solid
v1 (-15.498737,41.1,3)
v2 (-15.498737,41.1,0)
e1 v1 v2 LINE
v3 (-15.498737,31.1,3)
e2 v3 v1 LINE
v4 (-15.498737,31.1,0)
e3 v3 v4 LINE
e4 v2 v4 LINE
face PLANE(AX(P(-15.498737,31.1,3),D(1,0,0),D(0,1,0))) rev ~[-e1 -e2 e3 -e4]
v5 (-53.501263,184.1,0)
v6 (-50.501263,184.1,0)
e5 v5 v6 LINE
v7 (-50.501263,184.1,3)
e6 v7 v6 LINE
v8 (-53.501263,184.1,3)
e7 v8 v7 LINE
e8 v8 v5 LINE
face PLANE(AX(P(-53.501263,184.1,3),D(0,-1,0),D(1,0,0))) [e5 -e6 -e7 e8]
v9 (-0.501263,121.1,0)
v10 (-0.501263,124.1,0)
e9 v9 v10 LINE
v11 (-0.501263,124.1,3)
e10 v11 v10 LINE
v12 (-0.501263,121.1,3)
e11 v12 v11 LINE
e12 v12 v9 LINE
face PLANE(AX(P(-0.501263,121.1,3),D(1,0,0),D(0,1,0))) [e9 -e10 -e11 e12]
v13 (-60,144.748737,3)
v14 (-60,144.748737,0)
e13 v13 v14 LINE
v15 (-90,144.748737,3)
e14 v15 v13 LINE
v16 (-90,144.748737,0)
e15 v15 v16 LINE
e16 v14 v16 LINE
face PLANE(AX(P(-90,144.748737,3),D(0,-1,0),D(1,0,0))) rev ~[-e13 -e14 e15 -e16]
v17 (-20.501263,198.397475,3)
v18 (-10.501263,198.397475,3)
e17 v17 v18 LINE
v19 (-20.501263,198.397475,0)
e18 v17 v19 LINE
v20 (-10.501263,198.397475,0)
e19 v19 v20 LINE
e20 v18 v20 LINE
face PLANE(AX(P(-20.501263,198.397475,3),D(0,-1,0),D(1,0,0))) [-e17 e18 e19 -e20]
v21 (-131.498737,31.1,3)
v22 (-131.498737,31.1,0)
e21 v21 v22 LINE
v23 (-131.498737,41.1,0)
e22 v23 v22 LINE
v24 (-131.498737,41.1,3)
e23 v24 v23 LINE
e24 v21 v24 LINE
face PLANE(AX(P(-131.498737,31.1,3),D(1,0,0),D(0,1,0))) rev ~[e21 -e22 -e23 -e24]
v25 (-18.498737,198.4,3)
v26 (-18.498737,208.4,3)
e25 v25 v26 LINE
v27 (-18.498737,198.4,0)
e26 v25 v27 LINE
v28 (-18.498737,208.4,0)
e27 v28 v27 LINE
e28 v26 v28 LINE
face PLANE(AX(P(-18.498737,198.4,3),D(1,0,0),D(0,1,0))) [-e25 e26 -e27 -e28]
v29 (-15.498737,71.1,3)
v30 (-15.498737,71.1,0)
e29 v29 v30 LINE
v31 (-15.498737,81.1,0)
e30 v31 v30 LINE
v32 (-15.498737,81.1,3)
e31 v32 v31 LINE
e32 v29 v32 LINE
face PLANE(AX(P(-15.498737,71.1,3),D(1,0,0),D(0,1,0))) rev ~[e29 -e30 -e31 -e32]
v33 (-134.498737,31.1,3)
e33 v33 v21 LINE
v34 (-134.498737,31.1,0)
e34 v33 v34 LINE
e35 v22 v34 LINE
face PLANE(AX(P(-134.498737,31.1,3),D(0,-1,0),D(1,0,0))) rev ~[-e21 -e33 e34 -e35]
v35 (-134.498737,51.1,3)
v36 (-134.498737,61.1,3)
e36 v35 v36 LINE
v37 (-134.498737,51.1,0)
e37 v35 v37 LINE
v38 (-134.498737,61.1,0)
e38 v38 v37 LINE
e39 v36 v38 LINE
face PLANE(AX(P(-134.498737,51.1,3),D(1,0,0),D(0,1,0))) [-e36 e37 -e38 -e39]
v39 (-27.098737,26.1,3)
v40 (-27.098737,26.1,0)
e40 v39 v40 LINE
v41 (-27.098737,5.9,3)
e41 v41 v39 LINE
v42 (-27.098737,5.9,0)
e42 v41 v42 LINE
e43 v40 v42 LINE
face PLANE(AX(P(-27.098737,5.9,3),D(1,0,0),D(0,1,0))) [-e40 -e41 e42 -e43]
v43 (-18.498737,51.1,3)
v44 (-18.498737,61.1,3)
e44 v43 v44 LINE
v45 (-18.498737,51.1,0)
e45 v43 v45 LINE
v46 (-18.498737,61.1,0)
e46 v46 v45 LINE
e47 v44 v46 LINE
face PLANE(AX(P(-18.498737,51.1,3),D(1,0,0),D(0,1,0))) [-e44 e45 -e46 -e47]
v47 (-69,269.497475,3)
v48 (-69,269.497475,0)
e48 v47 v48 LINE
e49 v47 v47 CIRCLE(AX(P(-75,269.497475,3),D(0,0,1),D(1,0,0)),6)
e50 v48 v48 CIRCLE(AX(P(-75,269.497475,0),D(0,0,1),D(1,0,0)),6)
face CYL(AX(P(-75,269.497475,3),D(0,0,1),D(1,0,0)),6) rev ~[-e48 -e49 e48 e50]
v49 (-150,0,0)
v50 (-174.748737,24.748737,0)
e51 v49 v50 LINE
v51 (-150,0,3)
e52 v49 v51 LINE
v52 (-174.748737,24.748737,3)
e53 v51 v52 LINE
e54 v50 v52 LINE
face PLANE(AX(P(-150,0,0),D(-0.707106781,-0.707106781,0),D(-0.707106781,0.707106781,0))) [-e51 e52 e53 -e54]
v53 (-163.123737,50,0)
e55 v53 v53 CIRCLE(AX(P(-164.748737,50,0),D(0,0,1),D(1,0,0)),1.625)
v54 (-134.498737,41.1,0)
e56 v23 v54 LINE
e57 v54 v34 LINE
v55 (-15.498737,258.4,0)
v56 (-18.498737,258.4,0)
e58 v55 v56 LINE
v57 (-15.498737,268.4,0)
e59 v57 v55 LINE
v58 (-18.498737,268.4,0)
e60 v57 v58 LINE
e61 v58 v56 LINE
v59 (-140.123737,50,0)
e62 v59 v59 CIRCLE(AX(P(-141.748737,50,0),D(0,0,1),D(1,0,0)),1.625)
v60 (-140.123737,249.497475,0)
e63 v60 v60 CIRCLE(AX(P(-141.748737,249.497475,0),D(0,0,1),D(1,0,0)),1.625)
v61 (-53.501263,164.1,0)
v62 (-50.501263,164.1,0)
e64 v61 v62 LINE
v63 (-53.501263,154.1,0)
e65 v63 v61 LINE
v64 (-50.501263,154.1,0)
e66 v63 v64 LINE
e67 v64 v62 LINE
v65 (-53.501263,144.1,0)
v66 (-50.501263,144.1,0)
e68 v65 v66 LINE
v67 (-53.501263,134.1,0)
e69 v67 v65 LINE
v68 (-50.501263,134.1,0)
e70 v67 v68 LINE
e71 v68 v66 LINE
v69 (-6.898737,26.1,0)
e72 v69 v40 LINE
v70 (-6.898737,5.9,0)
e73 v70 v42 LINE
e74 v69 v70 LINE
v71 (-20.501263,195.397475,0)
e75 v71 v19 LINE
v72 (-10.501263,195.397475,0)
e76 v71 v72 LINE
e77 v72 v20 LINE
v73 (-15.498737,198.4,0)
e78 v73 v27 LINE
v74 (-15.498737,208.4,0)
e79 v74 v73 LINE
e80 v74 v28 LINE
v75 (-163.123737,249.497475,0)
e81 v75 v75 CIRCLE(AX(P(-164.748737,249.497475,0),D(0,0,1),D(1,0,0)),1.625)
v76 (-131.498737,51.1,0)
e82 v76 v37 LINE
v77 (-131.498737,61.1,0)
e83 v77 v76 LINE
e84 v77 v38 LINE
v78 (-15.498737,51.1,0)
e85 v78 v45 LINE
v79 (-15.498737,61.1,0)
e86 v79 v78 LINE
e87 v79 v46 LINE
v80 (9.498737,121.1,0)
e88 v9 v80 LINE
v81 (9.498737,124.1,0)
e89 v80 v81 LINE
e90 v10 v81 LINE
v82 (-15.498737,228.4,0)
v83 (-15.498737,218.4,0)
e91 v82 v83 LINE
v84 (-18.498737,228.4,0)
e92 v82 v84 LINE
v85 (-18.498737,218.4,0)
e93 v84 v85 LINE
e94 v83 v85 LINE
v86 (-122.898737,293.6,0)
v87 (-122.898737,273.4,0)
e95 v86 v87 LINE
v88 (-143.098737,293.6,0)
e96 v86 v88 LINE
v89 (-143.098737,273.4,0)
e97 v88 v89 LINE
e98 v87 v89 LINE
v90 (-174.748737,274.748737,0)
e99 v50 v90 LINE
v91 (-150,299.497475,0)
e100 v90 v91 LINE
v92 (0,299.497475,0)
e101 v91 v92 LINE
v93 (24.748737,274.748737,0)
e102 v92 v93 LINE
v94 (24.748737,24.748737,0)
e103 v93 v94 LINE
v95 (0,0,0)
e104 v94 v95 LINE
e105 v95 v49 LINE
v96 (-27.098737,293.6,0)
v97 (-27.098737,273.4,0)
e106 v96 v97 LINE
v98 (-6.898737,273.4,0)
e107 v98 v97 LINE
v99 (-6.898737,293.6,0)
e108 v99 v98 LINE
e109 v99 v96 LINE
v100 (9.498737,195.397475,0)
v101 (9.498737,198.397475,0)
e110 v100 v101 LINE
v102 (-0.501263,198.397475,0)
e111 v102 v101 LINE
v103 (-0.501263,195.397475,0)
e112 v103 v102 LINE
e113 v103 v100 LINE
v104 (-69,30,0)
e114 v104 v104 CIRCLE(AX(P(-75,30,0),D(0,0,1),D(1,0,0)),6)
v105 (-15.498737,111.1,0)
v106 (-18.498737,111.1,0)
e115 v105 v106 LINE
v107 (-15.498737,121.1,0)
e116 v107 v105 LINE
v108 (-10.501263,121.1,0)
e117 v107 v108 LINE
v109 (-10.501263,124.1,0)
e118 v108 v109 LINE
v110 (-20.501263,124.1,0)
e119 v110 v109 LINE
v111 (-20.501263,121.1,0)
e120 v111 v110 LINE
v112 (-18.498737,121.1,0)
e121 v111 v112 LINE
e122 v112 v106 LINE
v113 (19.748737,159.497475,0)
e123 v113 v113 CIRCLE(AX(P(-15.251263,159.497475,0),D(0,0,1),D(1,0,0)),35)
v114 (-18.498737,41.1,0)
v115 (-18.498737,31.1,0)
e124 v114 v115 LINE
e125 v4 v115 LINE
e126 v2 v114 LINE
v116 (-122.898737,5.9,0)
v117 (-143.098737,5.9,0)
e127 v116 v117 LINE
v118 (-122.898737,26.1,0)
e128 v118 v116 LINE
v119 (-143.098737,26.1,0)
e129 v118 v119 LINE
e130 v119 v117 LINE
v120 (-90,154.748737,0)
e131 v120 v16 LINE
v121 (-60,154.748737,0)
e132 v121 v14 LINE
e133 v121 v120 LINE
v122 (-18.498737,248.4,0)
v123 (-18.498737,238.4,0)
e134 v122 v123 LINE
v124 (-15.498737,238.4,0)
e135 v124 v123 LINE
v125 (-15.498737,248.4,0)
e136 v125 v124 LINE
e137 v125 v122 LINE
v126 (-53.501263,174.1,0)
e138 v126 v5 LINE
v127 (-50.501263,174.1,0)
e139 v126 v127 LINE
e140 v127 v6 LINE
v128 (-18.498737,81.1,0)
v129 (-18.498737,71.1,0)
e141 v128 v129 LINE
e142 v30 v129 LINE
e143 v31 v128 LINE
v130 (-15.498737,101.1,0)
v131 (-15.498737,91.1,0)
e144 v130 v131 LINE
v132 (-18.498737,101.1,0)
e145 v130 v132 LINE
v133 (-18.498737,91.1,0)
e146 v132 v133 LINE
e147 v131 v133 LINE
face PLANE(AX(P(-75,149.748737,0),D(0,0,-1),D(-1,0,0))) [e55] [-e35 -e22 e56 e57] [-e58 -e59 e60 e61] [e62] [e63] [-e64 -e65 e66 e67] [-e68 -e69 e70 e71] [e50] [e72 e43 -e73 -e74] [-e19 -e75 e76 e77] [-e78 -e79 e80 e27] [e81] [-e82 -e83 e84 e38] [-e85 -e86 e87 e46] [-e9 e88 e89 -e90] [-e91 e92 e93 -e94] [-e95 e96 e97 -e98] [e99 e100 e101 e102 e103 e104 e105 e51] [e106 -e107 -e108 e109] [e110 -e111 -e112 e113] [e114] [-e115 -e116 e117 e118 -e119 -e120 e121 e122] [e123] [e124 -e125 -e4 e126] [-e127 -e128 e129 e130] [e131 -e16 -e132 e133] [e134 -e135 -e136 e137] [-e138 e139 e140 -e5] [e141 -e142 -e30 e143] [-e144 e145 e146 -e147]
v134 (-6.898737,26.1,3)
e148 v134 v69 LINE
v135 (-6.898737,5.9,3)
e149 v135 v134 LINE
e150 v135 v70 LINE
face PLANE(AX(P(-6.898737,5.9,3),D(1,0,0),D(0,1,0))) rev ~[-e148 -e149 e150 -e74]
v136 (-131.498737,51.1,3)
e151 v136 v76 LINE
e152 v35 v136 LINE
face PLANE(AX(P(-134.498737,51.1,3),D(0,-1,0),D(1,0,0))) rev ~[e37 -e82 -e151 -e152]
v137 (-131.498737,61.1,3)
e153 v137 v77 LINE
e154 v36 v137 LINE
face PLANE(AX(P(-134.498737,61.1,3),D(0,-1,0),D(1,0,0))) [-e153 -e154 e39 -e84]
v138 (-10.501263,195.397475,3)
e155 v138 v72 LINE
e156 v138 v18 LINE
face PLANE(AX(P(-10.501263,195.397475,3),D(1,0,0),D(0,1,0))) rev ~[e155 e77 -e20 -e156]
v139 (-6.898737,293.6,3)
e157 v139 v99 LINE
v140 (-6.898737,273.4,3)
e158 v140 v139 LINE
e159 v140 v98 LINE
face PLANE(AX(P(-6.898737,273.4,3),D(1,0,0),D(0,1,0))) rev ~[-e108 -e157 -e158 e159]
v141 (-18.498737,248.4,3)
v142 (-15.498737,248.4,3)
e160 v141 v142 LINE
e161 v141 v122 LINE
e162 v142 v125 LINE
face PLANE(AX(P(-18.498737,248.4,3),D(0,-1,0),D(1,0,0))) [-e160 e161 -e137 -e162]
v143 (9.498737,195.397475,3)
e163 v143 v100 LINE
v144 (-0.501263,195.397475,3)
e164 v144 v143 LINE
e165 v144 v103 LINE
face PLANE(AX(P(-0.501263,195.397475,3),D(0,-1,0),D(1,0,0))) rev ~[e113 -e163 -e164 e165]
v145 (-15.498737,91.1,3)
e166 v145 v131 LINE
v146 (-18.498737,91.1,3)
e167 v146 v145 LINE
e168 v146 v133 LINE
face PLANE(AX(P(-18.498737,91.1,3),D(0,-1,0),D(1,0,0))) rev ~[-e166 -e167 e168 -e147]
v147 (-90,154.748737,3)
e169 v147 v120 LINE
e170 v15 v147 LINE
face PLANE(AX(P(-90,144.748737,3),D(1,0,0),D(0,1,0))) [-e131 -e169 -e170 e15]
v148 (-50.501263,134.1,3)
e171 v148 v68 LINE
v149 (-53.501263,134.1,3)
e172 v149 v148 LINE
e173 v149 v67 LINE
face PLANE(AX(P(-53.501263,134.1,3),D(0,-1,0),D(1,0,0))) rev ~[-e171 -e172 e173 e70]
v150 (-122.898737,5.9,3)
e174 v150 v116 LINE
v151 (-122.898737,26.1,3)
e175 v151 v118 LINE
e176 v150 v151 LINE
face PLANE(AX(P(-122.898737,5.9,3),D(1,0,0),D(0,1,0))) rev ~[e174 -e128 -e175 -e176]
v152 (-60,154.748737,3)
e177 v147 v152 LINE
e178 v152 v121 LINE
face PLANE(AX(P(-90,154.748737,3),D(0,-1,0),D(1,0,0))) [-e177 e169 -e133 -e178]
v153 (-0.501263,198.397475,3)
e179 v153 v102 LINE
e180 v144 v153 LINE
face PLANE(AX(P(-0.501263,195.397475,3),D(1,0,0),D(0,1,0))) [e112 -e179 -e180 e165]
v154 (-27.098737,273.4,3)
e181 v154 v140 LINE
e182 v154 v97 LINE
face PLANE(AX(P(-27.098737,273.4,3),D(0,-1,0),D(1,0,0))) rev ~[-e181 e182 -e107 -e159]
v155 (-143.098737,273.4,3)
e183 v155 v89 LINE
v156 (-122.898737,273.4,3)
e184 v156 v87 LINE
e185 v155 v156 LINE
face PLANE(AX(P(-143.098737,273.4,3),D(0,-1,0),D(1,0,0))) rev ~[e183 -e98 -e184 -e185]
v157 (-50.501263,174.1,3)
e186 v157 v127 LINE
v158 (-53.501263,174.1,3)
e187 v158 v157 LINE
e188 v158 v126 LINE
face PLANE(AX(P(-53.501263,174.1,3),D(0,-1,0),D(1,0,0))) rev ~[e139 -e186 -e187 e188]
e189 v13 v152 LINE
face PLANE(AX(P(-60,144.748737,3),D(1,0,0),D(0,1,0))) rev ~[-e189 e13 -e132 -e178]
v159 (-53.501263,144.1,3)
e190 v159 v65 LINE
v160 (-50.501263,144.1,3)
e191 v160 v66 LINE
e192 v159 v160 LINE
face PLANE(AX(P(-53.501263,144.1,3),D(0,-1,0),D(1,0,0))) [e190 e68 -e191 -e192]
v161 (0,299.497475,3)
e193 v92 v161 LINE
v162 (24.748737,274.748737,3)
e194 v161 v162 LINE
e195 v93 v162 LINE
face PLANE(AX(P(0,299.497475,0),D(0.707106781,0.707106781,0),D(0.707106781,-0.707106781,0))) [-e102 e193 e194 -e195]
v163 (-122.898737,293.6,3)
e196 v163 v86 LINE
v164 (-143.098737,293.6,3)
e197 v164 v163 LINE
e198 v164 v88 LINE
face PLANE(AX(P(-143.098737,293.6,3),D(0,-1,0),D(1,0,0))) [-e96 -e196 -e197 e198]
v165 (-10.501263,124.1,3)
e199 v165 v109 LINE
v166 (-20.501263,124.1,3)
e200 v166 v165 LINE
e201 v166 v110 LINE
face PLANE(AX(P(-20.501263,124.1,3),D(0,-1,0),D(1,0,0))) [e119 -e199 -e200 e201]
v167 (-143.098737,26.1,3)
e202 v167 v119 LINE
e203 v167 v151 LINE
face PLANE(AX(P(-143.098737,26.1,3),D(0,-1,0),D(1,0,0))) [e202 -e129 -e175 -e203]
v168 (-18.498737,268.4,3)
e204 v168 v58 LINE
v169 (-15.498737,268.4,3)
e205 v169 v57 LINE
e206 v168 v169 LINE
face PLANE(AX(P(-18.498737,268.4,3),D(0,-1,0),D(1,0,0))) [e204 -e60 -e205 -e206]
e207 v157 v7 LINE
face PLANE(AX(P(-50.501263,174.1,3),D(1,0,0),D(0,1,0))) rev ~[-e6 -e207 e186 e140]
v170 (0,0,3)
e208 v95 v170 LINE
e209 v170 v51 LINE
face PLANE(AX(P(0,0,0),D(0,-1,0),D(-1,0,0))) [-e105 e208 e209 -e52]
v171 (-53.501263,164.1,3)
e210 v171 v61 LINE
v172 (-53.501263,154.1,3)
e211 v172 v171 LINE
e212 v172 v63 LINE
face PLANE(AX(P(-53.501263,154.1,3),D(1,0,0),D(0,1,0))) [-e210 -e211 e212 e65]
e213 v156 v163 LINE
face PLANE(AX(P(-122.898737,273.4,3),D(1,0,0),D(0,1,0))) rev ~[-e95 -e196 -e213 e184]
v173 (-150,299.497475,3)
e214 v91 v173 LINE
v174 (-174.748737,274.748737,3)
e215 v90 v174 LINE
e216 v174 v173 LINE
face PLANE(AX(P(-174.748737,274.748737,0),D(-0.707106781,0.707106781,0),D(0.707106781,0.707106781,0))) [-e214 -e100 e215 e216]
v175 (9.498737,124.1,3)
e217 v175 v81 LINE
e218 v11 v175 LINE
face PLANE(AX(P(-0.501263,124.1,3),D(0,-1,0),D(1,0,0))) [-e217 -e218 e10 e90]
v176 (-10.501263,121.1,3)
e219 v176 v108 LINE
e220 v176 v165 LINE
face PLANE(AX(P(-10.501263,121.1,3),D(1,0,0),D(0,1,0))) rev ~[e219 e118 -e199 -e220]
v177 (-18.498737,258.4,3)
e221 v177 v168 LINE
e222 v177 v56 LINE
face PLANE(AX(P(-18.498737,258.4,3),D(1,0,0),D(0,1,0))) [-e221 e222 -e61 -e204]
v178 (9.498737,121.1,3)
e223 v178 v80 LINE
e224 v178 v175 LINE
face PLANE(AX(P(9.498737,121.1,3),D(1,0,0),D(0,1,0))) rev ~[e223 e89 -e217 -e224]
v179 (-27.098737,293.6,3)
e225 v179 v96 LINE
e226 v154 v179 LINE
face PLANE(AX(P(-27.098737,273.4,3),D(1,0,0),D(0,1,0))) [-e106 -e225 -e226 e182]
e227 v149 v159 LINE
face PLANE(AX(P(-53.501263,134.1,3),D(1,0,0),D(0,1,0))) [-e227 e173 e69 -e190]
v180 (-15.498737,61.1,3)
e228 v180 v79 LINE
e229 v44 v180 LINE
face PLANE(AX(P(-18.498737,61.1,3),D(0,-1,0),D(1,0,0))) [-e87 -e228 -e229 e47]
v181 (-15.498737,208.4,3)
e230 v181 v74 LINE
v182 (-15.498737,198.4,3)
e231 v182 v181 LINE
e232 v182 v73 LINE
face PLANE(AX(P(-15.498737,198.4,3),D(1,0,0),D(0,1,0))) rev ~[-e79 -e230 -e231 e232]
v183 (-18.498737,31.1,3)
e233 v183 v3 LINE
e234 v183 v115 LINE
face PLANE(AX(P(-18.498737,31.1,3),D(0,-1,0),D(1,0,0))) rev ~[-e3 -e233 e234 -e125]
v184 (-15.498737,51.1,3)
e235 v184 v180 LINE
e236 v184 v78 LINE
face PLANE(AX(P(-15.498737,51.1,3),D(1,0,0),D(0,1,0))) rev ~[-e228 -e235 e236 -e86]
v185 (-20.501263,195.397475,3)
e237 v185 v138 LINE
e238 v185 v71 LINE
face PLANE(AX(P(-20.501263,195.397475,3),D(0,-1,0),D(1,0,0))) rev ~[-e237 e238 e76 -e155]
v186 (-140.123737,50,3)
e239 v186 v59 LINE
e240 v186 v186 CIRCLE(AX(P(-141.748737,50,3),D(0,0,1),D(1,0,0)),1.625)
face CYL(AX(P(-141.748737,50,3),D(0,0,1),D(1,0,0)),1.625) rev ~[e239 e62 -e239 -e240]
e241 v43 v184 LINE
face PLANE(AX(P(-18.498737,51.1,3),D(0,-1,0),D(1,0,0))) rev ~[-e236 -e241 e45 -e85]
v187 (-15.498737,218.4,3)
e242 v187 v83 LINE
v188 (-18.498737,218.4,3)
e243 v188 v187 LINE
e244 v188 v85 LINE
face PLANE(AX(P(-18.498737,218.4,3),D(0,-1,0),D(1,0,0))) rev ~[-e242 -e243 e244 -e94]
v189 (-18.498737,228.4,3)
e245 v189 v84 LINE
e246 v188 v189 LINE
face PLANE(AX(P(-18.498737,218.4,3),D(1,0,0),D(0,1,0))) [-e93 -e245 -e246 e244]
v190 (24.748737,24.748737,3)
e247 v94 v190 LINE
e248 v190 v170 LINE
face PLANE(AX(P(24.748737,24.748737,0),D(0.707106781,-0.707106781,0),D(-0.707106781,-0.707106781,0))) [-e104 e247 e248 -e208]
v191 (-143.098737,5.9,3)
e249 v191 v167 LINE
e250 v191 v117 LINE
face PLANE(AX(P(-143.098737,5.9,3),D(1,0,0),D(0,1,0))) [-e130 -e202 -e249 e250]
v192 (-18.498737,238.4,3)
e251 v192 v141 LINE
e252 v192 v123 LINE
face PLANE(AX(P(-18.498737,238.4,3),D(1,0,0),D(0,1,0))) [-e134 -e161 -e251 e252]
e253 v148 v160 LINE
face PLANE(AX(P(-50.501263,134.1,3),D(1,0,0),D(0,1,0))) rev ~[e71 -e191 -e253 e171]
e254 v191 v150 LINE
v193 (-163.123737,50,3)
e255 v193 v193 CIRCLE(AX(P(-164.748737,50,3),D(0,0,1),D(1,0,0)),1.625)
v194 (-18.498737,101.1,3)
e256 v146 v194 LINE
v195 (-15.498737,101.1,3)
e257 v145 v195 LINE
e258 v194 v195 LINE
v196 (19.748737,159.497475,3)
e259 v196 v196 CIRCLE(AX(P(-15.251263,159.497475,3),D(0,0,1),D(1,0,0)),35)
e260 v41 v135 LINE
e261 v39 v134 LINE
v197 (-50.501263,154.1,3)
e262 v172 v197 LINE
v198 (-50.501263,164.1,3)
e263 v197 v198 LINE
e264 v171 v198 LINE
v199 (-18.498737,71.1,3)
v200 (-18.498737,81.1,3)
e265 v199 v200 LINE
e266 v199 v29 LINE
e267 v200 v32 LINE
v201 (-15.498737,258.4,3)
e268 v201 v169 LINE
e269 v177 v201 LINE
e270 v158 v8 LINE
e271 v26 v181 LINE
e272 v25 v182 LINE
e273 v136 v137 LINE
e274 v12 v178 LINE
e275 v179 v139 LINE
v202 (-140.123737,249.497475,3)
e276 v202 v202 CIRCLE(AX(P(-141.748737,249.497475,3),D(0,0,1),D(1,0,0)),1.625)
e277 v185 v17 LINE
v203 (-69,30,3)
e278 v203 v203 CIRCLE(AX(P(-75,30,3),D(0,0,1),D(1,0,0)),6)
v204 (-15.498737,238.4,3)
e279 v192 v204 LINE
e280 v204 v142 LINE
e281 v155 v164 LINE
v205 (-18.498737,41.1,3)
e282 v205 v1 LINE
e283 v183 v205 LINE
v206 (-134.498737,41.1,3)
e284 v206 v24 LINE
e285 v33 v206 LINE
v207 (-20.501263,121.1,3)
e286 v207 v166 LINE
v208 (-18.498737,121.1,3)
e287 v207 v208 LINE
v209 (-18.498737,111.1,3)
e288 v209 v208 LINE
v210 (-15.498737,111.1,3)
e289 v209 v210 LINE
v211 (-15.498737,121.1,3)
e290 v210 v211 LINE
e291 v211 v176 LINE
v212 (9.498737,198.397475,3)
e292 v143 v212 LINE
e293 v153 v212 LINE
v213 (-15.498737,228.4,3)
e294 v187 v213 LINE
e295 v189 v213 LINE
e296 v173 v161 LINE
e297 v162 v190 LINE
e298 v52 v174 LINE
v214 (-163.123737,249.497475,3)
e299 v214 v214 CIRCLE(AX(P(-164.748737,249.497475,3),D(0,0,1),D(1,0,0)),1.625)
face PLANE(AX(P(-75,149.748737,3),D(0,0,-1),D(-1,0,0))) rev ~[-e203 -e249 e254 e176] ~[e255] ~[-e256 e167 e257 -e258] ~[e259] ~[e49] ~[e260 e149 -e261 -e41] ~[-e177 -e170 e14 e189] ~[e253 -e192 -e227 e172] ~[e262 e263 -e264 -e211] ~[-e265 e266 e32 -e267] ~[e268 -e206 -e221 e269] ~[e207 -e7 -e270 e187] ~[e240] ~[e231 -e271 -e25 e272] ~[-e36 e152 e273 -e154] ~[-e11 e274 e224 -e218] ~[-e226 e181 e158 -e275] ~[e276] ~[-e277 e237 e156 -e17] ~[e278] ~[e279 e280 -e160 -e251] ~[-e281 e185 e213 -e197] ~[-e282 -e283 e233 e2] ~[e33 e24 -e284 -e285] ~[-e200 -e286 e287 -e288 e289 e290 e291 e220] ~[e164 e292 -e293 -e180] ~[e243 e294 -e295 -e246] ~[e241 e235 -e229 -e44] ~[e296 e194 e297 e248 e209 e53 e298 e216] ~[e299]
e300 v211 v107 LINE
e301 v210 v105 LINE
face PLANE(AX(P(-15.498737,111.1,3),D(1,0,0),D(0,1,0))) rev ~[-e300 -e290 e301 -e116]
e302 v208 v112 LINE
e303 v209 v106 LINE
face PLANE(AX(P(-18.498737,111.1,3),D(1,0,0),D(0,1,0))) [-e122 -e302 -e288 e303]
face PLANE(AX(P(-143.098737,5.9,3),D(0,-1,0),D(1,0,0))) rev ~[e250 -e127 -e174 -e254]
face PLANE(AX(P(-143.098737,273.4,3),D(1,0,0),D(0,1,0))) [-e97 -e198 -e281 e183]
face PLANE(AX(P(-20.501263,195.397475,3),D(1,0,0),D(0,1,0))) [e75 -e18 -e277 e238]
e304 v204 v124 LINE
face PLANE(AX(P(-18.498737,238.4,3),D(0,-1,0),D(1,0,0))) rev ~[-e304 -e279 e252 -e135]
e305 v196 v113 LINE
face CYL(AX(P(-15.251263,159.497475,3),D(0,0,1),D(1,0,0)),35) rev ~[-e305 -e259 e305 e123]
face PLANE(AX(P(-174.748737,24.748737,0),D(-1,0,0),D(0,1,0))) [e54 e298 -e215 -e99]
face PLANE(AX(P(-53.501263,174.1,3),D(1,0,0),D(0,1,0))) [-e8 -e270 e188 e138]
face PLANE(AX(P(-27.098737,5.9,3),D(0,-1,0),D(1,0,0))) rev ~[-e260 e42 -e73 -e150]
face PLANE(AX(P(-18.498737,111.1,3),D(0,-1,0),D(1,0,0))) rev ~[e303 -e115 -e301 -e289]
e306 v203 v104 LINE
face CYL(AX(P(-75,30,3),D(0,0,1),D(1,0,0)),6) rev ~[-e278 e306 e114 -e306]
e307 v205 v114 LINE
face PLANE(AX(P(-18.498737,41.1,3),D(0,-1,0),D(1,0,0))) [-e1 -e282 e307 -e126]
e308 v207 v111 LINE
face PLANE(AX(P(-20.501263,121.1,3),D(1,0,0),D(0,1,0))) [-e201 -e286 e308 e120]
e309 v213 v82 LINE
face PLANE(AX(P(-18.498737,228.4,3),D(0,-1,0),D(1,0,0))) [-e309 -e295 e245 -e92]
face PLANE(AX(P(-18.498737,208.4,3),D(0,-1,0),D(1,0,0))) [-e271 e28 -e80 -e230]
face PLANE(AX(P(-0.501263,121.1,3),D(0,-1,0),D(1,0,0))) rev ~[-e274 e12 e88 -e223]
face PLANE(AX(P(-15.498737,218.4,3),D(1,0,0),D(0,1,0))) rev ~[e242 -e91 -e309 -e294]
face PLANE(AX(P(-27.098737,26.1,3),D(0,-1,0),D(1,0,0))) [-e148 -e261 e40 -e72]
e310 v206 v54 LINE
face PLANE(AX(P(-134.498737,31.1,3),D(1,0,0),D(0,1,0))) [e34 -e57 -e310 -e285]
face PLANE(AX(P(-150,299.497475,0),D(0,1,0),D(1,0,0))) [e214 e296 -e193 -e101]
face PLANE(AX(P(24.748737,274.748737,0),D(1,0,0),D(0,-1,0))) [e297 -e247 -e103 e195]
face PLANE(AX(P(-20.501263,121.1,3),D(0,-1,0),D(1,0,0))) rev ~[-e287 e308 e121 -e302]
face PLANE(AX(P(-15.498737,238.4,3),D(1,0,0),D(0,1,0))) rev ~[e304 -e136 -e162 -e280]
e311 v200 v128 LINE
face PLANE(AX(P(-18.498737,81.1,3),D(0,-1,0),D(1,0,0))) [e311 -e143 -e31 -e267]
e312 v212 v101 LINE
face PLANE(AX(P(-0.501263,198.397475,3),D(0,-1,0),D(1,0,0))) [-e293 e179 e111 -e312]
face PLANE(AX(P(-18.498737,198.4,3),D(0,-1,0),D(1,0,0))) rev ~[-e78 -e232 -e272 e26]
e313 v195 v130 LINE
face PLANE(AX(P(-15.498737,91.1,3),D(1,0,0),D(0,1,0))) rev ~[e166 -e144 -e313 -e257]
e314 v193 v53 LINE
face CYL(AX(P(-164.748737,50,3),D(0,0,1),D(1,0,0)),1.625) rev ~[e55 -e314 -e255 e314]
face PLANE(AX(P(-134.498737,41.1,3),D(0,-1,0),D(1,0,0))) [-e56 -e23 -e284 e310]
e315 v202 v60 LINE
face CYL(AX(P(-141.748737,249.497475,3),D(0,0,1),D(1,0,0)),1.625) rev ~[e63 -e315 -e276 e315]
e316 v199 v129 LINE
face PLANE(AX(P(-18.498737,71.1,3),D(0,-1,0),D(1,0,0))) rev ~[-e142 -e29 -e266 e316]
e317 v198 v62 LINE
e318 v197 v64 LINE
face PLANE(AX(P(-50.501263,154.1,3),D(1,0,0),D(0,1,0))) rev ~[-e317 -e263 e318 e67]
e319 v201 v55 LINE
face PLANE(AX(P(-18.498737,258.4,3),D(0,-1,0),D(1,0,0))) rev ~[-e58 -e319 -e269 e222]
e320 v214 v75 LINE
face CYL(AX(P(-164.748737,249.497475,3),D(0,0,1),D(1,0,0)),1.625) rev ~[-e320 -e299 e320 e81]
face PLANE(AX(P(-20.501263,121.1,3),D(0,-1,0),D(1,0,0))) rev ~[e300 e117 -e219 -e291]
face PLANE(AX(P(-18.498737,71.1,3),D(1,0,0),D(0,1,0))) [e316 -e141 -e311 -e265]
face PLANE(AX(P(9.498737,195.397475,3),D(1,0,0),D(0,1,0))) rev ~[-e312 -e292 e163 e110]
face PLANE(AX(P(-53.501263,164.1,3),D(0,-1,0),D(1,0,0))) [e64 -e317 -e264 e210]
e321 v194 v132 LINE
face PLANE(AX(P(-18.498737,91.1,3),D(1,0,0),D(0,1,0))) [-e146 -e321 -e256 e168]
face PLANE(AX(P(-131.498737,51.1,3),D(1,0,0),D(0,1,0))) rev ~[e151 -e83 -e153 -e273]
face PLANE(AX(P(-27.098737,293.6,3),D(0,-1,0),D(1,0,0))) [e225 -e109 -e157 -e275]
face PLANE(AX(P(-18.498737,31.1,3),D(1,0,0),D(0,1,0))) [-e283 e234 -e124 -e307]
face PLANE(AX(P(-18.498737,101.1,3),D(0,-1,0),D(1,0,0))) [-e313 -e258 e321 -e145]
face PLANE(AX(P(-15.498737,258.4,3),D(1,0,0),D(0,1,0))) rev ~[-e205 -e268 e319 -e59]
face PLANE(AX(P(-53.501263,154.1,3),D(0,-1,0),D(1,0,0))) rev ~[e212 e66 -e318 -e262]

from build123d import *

# Parameters (mm, degrees)
BASE_DEPTH                      = 3
ESQUISSE3_W                     = 20.2
ESQUISSE3_H                     = 20.2
ENL_V_MAT_EXTRU_1_DEPTH         = 4
R_P_TITION_LIN_AIRE1_COUNT      = 2
R_P_TITION_LIN_AIRE1_PITCH      = 267.5
R_P_TITION_LIN_AIRE1_COUNT_DIR2 = 2
R_P_TITION_LIN_AIRE1_PITCH_DIR2 = 116
ESQUISSE4_R                     = 35
ENL_V_MAT_EXTRU_2_DEPTH         = 4
ESQUISSE5_R                     = 6
ESQUISSE5_W                     = 30
ESQUISSE5_H                     = 10
ENL_V_MAT_EXTRU_3_DEPTH         = 4
ESQUISSE6_R                     = 1.625
ENL_V_MAT_EXTRU_4_DEPTH         = 4
SKETCH1_W                       = 3
SKETCH1_H                       = 10
CUT_EXTRUDE1_DEPTH              = 4
LPATTERN1_COUNT                 = 4
LPATTERN1_PITCH                 = 20
SKETCH2_W                       = 3
SKETCH2_H                       = 10
CUT_EXTRUDE2_DEPTH              = 4
LPATTERN2_COUNT                 = 5
LPATTERN2_PITCH                 = 20
SKETCH4_W                       = 3
SKETCH4_H                       = 10
CUT_EXTRUDE3_DEPTH              = 4
LPATTERN3_COUNT                 = 2
LPATTERN3_PITCH                 = 20
ESQUISSE7_W                     = 10
ESQUISSE7_H                     = 3
ENL_V_MAT_EXTRU_5_DEPTH         = 3
ESQUISSE8_W                     = 3
ESQUISSE8_H                     = 10
ENL_V_MAT_EXTRU_6_DEPTH         = 3


with BuildPart() as part:
    # Esquisse1 → Base (new body)
    with BuildSketch(Plane.XY):
        Polygon((24.748737342, 24.748737342), (0, 0), (-150, 0), (-174.748737342, 24.748737342), (-174.748737342, 274.748737342), (-150, 299.497474683), (0, 299.497474683), (24.748737342, 274.748737342), align=None)
    extrude(amount=BASE_DEPTH)

    # Esquisse3 → Enlèv. mat.-Extru.1 (cut, through all)
    with BuildSketch(Plane.XY.offset(3)):
        with Locations((-132.998737342, 16)):
            Rectangle(ESQUISSE3_W, ESQUISSE3_H)
    enl_v_mat_extru_1 = extrude(amount=-ENL_V_MAT_EXTRU_1_DEPTH, mode=Mode.SUBTRACT)

    # Répétition linéaire1: Enl_v. mat.-Extru.1 2 × 2
    with Locations(*[(j * R_P_TITION_LIN_AIRE1_PITCH_DIR2, i * R_P_TITION_LIN_AIRE1_PITCH, 0) for i in range(R_P_TITION_LIN_AIRE1_COUNT) for j in range(R_P_TITION_LIN_AIRE1_COUNT_DIR2) if (i, j) != (0, 0)]):
        add(enl_v_mat_extru_1, mode=Mode.SUBTRACT)

    # Esquisse4 → Enlèv. mat.-Extru.2 (cut, through all)
    with BuildSketch(Plane.XY.offset(3)):
        with Locations((-15.251262658, 159.497474683)):
            Circle(ESQUISSE4_R)
    extrude(amount=-ENL_V_MAT_EXTRU_2_DEPTH, mode=Mode.SUBTRACT)

    # Esquisse5 → Enlèv. mat.-Extru.3 (cut, through all)
    with BuildSketch(Plane.XY.offset(3)):
        with Locations((-75, 30)):
            Circle(ESQUISSE5_R)
        with Locations((-75, 269.497474683)):
            Circle(ESQUISSE5_R)
        with Locations((-75, 149.748737342)):
            Rectangle(ESQUISSE5_W, ESQUISSE5_H)
    extrude(amount=-ENL_V_MAT_EXTRU_3_DEPTH, mode=Mode.SUBTRACT)

    # Esquisse6 → Enlèv. mat.-Extru.4 (cut, through all)
    with BuildSketch(Plane.XY.offset(3)):
        with Locations((-164.748737342, 249.497474683)):
            Circle(ESQUISSE6_R)
        with Locations((-141.748737342, 249.497474683)):
            Circle(ESQUISSE6_R)
        with Locations((-164.748737342, 50)):
            Circle(ESQUISSE6_R)
        with Locations((-141.748737342, 50)):
            Circle(ESQUISSE6_R)
    extrude(amount=-ENL_V_MAT_EXTRU_4_DEPTH, mode=Mode.SUBTRACT)

    # Sketch1 → Cut-Extrude1 (cut, through all)
    with BuildSketch(Plane.XY.offset(3)):
        with Locations((-16.998737342, 263.4)):
            Rectangle(SKETCH1_W, SKETCH1_H)
    cut_extrude1 = extrude(amount=-CUT_EXTRUDE1_DEPTH, mode=Mode.SUBTRACT)

    # LPattern1: Cut-Extrude1 ×4
    with Locations(*[(0, -i * LPATTERN1_PITCH, 0) for i in range(1, LPATTERN1_COUNT)]):
        add(cut_extrude1, mode=Mode.SUBTRACT)

    # Sketch2 → Cut-Extrude2 (cut, through all)
    with BuildSketch(Plane.XY.offset(3)):
        with Locations((-16.998737342, 36.1)):
            Rectangle(SKETCH2_W, SKETCH2_H)
    cut_extrude2 = extrude(amount=-CUT_EXTRUDE2_DEPTH, mode=Mode.SUBTRACT)

    # LPattern2: Cut-Extrude2 ×5
    with Locations(*[(0, i * LPATTERN2_PITCH, 0) for i in range(1, LPATTERN2_COUNT)]):
        add(cut_extrude2, mode=Mode.SUBTRACT)

    # Sketch4 → Cut-Extrude3 (cut, through all)
    with BuildSketch(Plane.XY.offset(3)):
        with Locations((-132.998737342, 36.1)):
            Rectangle(SKETCH4_W, SKETCH4_H)
    cut_extrude3 = extrude(amount=-CUT_EXTRUDE3_DEPTH, mode=Mode.SUBTRACT)

    # LPattern3: Cut-Extrude3 ×2
    with Locations(*[(0, i * LPATTERN3_PITCH, 0) for i in range(1, LPATTERN3_COUNT)]):
        add(cut_extrude3, mode=Mode.SUBTRACT)

    # Esquisse7 → Enlèv. mat.-Extru.5 (cut)
    with BuildSketch(Plane.XY.offset(3)):
        with Locations((4.498737342, 122.6)):
            Rectangle(ESQUISSE7_W, ESQUISSE7_H)
        with Locations((-15.501262658, 196.897474683)):
            Rectangle(ESQUISSE7_W, ESQUISSE7_H)
        with Locations((4.498737342, 196.897474683)):
            Rectangle(ESQUISSE7_W, ESQUISSE7_H)
        with Locations((-15.501262658, 122.6)):
            Rectangle(ESQUISSE7_W, ESQUISSE7_H)
    extrude(amount=-ENL_V_MAT_EXTRU_5_DEPTH, mode=Mode.SUBTRACT)

    # Esquisse8 → Enlèv. mat.-Extru.6 (cut)
    with BuildSketch(Plane.XY.offset(3)):
        with Locations((-52.001262658, 159.1)):
            Rectangle(ESQUISSE8_W, ESQUISSE8_H)
        with Locations((-52.001262658, 139.1)):
            Rectangle(ESQUISSE8_W, ESQUISSE8_H)
        with Locations((-52.001262658, 179.1)):
            Rectangle(ESQUISSE8_W, ESQUISSE8_H)
    extrude(amount=-ENL_V_MAT_EXTRU_6_DEPTH, mode=Mode.SUBTRACT)


solid = part.part
